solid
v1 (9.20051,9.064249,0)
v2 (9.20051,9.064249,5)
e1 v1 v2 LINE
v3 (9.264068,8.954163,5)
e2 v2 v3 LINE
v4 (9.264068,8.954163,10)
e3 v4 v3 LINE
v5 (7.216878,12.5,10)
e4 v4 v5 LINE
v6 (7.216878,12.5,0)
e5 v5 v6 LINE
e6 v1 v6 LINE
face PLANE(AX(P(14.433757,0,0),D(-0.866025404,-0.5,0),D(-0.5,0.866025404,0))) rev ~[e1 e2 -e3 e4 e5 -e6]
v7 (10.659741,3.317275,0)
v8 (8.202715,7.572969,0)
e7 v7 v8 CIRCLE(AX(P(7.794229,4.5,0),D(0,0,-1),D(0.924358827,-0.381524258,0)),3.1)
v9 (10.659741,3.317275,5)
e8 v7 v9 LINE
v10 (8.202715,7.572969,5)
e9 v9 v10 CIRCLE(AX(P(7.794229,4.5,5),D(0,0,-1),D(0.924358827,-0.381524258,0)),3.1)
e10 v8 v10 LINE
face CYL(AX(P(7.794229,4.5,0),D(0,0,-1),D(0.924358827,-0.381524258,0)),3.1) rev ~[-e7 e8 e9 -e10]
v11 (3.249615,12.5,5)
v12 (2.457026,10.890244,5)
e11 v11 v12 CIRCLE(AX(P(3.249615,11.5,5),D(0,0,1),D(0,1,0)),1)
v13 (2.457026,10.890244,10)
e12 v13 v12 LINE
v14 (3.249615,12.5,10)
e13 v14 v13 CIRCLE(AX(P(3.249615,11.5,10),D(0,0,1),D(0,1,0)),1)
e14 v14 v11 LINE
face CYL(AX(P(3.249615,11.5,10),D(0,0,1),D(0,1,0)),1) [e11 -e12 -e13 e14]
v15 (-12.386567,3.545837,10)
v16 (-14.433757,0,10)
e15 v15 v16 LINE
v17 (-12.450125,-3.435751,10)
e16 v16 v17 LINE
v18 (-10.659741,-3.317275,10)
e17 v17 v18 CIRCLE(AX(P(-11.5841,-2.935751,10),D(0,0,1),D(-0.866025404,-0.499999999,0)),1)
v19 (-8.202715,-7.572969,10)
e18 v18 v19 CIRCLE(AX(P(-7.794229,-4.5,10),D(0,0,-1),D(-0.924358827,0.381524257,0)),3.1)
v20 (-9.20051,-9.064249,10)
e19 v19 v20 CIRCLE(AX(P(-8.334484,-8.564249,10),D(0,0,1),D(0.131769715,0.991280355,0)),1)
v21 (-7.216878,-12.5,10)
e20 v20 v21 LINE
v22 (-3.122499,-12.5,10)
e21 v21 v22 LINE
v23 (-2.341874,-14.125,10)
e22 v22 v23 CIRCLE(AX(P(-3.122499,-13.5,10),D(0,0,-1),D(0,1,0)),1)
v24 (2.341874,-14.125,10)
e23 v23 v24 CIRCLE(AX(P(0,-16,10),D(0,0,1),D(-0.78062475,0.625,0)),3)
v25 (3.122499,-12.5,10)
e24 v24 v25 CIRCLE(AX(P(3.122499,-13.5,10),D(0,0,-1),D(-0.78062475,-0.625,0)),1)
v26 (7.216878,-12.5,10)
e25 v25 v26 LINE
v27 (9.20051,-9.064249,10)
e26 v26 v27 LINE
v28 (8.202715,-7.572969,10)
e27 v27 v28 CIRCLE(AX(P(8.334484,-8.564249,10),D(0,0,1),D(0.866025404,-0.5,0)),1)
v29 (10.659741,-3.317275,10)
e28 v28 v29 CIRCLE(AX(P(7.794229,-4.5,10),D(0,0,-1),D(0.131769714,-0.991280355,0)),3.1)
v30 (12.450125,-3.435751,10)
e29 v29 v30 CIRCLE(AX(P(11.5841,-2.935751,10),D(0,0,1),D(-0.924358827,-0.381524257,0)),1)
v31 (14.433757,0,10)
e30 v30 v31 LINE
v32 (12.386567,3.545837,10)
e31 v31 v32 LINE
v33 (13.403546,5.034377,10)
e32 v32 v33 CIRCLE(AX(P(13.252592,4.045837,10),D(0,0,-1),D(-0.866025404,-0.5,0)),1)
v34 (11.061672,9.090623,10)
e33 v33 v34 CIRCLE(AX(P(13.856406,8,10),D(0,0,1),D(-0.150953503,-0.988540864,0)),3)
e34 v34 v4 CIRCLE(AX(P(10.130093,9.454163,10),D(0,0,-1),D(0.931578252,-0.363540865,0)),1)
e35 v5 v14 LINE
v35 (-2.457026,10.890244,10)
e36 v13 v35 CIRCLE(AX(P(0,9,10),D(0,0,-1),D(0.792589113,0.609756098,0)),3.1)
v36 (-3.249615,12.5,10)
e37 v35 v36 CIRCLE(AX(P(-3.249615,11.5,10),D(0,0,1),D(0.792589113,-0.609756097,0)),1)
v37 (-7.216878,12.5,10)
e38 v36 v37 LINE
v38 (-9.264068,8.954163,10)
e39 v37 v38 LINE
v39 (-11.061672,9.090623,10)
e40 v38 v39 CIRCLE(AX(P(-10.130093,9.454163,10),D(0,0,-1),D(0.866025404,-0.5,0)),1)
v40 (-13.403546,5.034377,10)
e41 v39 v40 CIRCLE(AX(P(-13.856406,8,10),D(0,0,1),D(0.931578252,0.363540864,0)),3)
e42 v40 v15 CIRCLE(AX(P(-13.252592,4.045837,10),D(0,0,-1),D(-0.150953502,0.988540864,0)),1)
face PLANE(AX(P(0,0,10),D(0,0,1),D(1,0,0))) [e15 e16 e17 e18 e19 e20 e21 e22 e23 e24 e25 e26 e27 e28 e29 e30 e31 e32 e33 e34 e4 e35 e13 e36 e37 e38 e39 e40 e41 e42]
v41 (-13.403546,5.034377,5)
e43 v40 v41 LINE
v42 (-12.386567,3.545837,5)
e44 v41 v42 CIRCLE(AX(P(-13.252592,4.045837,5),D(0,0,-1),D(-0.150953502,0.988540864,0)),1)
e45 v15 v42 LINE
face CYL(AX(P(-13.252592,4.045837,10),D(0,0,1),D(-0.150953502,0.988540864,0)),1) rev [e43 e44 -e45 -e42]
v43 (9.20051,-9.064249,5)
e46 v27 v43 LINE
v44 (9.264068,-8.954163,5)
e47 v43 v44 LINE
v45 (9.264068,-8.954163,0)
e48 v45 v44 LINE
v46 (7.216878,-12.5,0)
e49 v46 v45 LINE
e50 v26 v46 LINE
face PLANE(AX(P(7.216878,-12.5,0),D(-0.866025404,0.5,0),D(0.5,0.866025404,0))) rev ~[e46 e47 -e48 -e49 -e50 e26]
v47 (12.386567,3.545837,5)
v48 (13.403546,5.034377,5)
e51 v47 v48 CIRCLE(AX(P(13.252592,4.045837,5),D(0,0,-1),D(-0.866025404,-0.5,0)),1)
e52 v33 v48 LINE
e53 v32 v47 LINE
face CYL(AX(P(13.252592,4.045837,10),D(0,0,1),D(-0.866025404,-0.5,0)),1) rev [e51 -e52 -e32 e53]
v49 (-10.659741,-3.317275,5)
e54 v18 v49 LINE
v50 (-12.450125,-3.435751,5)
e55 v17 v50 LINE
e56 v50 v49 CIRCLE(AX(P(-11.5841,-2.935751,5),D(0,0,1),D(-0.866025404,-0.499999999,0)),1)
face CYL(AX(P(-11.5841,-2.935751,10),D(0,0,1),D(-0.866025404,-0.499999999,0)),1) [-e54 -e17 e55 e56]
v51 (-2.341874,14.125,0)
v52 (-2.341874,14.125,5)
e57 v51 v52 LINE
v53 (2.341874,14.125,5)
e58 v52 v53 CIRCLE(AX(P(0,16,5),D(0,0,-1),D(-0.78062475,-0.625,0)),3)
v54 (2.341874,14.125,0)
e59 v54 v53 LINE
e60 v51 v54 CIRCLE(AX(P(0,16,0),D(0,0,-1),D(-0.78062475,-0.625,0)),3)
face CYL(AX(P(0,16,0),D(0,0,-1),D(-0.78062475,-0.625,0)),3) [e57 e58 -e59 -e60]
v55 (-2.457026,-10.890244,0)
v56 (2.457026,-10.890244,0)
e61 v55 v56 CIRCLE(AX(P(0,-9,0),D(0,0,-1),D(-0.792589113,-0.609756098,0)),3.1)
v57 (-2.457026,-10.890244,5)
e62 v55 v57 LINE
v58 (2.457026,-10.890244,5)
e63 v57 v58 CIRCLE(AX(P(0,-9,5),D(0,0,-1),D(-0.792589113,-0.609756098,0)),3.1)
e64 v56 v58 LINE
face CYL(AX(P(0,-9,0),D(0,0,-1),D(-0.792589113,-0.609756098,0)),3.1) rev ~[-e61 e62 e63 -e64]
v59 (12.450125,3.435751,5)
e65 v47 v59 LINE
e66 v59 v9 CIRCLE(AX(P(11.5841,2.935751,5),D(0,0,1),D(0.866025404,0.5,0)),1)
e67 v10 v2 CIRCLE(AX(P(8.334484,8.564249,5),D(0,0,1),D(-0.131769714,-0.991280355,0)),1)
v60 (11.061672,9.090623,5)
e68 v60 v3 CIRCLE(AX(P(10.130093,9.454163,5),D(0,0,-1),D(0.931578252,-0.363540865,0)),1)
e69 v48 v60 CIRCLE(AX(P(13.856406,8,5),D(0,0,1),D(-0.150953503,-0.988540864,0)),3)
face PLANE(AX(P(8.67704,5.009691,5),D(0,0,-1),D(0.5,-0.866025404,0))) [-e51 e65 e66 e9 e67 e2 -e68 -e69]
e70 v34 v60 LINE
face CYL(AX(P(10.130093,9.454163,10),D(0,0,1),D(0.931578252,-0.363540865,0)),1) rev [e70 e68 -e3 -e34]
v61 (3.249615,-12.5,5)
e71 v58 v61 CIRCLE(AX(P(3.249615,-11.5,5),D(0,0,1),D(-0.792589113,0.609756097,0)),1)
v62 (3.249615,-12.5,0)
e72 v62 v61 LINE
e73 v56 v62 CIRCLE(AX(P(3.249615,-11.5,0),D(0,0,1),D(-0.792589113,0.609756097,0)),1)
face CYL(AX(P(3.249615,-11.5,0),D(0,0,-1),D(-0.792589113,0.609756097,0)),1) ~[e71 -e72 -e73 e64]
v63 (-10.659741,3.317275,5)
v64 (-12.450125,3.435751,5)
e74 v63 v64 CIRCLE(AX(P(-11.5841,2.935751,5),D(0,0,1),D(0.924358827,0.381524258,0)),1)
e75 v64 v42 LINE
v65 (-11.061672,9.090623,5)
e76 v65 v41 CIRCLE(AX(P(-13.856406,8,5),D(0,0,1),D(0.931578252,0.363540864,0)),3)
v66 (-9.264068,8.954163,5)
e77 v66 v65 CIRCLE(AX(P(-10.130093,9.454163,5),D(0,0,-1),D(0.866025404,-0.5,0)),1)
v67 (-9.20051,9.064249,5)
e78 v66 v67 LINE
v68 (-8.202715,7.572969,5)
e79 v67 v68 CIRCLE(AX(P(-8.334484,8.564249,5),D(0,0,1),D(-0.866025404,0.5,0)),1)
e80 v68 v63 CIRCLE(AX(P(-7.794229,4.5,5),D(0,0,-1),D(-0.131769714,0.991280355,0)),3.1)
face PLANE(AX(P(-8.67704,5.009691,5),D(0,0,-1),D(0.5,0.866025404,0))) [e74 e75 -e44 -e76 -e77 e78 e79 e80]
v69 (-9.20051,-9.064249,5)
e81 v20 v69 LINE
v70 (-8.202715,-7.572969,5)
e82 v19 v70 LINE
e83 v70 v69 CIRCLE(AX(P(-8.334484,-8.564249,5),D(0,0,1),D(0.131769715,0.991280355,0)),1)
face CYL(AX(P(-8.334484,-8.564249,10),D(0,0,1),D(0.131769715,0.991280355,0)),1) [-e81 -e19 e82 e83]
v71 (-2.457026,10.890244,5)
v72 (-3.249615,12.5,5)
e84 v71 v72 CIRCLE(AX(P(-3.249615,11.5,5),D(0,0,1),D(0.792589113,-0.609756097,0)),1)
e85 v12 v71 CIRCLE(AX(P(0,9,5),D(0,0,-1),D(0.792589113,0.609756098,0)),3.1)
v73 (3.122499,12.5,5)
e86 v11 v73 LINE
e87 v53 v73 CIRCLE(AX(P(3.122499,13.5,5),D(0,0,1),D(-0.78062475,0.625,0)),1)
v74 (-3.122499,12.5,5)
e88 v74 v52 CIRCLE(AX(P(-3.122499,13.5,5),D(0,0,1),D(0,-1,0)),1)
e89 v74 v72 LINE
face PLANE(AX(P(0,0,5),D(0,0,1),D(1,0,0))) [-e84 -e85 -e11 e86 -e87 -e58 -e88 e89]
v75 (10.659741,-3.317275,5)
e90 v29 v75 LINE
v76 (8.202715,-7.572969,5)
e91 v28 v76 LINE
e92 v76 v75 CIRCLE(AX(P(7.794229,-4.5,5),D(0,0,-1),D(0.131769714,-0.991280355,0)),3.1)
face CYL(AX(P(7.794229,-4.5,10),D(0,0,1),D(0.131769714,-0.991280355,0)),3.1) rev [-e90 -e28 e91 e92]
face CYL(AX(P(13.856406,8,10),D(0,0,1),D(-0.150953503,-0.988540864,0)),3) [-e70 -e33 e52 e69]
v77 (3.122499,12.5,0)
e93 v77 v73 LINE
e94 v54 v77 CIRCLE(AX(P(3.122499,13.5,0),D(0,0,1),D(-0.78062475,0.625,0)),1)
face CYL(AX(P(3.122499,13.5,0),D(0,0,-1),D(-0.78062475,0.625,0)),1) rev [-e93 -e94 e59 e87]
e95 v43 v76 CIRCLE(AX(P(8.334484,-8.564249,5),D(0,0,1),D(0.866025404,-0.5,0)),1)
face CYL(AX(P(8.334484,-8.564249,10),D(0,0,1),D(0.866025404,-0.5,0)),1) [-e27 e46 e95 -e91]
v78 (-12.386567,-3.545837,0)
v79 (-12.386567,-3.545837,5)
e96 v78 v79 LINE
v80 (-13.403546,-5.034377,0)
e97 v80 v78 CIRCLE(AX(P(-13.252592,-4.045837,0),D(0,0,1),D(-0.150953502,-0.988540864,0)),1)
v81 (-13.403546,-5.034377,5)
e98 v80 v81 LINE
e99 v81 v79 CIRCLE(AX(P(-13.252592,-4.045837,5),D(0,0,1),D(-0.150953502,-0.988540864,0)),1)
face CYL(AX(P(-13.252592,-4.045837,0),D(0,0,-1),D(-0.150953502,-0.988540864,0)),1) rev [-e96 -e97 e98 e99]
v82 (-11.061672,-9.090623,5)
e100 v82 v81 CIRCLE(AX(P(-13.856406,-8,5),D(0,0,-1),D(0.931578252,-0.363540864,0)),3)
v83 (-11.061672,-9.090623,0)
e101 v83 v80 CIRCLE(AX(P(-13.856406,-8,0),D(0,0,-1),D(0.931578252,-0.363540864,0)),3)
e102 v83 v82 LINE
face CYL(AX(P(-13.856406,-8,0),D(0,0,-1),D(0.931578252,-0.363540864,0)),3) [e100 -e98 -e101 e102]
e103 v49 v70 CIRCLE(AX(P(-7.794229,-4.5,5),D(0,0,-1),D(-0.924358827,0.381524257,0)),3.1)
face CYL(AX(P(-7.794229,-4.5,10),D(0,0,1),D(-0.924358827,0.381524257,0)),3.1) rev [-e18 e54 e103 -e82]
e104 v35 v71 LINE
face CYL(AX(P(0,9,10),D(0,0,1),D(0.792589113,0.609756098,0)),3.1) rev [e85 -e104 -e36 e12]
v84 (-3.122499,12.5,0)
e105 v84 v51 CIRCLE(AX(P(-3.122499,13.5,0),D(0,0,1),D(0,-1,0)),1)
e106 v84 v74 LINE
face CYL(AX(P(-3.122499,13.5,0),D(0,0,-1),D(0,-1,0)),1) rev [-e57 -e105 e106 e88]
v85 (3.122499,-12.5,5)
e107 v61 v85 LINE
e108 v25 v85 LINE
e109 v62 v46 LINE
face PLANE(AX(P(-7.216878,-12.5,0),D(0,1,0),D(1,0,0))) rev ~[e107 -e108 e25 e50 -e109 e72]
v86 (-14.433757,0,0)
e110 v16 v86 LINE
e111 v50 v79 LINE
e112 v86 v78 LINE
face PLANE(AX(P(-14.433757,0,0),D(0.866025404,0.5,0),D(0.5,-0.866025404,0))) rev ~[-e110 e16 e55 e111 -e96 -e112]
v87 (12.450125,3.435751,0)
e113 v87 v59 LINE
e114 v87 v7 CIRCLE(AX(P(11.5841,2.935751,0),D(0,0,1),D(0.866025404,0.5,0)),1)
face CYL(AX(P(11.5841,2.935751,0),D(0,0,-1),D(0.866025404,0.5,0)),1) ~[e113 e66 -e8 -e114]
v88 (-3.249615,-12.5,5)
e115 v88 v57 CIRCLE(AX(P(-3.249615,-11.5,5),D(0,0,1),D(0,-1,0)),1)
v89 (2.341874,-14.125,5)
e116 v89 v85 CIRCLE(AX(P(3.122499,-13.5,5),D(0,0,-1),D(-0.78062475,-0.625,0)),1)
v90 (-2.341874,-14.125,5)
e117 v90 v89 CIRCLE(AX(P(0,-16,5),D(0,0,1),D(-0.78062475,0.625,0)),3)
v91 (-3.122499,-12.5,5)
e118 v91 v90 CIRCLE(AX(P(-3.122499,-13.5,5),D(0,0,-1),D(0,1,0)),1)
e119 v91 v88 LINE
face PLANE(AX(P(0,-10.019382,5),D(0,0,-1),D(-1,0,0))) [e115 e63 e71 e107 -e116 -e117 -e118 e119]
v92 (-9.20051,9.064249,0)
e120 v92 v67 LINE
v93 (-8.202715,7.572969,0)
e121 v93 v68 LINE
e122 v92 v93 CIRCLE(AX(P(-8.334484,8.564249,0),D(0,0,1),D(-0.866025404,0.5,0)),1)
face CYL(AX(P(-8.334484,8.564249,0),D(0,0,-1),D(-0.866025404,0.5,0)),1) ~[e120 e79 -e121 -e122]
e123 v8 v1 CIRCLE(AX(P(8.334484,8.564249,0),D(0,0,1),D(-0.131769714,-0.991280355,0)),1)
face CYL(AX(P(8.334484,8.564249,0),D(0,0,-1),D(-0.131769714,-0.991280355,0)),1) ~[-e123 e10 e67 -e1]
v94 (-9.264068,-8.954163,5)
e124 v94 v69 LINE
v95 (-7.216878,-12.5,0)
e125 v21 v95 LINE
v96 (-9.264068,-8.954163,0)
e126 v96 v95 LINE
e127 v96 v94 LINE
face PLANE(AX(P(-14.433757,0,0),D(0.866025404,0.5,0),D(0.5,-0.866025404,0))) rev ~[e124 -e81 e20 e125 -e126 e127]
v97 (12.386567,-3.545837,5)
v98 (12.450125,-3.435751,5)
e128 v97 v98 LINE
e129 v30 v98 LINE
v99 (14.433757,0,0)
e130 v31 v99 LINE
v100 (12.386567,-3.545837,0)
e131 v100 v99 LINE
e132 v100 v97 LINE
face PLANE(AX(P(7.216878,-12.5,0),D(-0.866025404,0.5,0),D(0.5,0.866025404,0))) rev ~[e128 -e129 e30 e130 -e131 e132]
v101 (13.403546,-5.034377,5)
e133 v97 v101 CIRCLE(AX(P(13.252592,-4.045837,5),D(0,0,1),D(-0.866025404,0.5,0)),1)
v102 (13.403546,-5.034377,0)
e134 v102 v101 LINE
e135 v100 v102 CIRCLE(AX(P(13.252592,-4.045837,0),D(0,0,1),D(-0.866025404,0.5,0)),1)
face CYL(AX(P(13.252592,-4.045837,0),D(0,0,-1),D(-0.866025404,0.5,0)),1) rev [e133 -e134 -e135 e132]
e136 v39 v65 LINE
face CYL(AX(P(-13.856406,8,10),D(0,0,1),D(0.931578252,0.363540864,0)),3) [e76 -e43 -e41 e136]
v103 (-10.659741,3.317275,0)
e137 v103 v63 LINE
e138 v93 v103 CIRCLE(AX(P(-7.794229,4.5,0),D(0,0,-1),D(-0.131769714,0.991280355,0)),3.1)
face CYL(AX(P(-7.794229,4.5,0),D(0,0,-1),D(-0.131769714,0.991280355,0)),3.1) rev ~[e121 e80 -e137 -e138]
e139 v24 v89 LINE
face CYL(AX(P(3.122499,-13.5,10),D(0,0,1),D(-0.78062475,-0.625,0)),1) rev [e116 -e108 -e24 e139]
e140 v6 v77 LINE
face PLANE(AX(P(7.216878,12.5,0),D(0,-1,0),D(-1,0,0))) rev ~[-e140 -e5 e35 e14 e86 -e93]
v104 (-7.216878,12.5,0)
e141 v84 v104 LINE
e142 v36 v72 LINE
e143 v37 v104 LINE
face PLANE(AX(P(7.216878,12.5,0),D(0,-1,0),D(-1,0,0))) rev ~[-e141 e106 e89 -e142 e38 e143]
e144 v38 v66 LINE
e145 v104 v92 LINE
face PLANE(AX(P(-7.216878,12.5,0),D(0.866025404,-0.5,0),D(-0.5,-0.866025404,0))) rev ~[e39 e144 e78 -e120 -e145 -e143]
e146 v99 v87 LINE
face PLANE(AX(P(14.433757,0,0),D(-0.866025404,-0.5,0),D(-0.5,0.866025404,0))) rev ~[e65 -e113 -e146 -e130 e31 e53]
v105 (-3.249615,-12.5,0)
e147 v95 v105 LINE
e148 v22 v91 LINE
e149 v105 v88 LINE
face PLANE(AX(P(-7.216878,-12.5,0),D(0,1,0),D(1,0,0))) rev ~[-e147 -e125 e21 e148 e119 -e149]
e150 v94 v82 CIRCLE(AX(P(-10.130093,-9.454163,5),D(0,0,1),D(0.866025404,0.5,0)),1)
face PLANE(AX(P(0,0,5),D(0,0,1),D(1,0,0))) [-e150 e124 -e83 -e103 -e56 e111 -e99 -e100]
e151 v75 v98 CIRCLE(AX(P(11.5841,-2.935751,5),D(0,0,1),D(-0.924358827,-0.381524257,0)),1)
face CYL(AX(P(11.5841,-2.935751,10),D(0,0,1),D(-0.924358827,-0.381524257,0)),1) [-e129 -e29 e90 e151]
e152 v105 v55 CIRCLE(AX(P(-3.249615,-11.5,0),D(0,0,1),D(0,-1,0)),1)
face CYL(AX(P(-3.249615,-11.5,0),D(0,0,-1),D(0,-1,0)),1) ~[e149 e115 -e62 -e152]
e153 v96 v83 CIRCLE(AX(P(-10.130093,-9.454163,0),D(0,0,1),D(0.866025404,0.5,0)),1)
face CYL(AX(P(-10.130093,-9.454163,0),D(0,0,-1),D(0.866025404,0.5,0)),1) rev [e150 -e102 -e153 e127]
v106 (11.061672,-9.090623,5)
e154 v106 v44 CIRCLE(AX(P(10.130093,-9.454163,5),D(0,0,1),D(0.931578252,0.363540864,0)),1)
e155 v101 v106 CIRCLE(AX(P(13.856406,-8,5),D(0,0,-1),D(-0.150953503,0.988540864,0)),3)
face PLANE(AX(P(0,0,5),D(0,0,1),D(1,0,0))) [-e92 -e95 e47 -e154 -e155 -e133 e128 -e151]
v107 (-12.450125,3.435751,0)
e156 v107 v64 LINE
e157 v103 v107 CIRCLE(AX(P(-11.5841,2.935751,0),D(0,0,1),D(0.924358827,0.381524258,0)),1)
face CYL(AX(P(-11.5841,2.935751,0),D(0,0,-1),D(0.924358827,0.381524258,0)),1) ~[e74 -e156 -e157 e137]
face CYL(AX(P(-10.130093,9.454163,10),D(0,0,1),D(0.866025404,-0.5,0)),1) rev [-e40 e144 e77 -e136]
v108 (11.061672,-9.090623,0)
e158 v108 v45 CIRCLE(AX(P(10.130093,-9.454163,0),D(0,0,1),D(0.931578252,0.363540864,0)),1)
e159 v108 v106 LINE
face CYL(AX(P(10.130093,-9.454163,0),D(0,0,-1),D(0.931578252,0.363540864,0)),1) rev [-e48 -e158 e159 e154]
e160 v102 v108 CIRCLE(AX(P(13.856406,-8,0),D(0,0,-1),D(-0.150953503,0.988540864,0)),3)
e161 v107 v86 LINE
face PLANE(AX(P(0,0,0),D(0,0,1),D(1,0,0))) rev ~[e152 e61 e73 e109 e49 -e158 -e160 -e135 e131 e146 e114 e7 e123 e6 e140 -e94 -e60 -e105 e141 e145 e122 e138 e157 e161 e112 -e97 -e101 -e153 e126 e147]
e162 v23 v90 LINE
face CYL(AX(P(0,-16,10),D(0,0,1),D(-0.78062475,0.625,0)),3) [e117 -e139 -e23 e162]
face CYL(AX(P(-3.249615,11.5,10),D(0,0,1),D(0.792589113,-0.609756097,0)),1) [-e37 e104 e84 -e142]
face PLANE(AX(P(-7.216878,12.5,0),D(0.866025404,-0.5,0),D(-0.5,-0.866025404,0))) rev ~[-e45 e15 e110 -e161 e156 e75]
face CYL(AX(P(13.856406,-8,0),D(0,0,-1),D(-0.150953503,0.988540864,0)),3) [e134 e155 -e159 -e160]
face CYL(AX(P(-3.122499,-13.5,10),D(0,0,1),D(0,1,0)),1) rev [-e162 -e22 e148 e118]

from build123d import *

# Parameters (mm, degrees)
EXTRUDE_1_DEPTH          = 10
EXTRUDE_2_DEPTH          = 5
CUT_EXTRUDE_2_DEPTH      = 5
PATTERN_CIRCULAR_1_COUNT = 3
EXTRUDE_3_DEPTH          = 5
CUT_EXTRUDE_3_DEPTH      = 5


with BuildPart() as part:
    # 草图1 → 凸台-拉伸1 (new body)
    with BuildSketch(Plane.XY):
        Polygon((14.43375673, 0), (7.216878365, 12.5), (-7.216878365, 12.5), (-14.43375673, 0), (-7.216878365, -12.5), (7.216878365, -12.5), align=None)
    extrude(amount=EXTRUDE_1_DEPTH)

    # 草图2 → 凸台-拉伸2 (add)
    with BuildSketch(Plane(origin=(0, 0, 0), x_dir=(-1, 0, 0), z_dir=(0, 0, -1))):
        with BuildLine():
            Line((-3.122498999, 12.5), (3.122498999, 12.5))
            ThreePointArc((3.122498999, 12.5), (2.22111118, 13.066987298), (2.341874249, 14.125))
            ThreePointArc((2.341874249, 14.125), (0, 19), (-2.341874249, 14.125))
            ThreePointArc((-2.341874249, 14.125), (-2.22111118, 13.066987298), (-3.122498999, 12.5))
        make_face()
    extrude_2 = extrude(amount=-EXTRUDE_2_DEPTH)

    # 草图3 → 切除-拉伸2 (cut)
    with BuildSketch(Plane(origin=(0, 0, 0), x_dir=(-1, 0, 0), z_dir=(0, 0, -1))):
        with BuildLine():
            ThreePointArc((-2.457026249, -10.890243902), (-2.352465403, -11.941726104), (-3.249615362, -12.5))
            Line((-3.249615362, -12.5), (0, -12.5))
            Line((0, -12.5), (3.249615362, -12.5))
            ThreePointArc((3.249615362, -12.5), (2.352465403, -11.941726104), (2.457026249, -10.890243902))
            ThreePointArc((2.457026249, -10.890243902), (0, -5.9), (-2.457026249, -10.890243902))
        make_face()
    cut_extrude_2 = extrude(amount=-CUT_EXTRUDE_2_DEPTH, mode=Mode.SUBTRACT)

    # 阵列(圆周)1: 凸台-拉伸2, 切除-拉伸2 ×3 about axis
    pattern_circular_1_axis = Axis((0, 0, 0), (0, 0, -1))
    add([extrude_2.rotate(pattern_circular_1_axis, i * 360 / PATTERN_CIRCULAR_1_COUNT) for i in range(1, PATTERN_CIRCULAR_1_COUNT)])
    add([cut_extrude_2.rotate(pattern_circular_1_axis, i * 360 / PATTERN_CIRCULAR_1_COUNT) for i in range(1, PATTERN_CIRCULAR_1_COUNT)], mode=Mode.SUBTRACT)

    # 草图5 → 凸台-拉伸3 (add)
    with BuildSketch(Plane.XY.offset(10)):
        with BuildLine():
            Line((7.216878365, -12.5), (9.200509866, -9.064249456))
            ThreePointArc((9.200509866, -9.064249456), (9.16560547, -8.008157853), (8.202714748, -7.572969101))
            ThreePointArc((8.202714748, -7.572969101), (5.109549882, -2.95), (10.659740998, -3.317274802))
            ThreePointArc((10.659740998, -3.317274802), (11.518070873, -3.933568252), (12.450125228, -3.435750544))
            Line((12.450125228, -3.435750544), (14.43375673, 0))
            Line((14.43375673, 0), (12.386567047, 3.545836543))
            ThreePointArc((12.386567047, 3.545836543), (12.426898541, 4.609954942), (13.403545953, 5.034377408))
            ThreePointArc((13.403545953, 5.034377408), (16.454482672, 9.5), (11.061671704, 9.090622592))
            ThreePointArc((11.061671704, 9.090622592), (10.205787361, 8.457032356), (9.264068048, 8.954163457))
            Line((9.264068048, 8.954163457), (7.216878365, 12.5))
            Line((7.216878365, 12.5), (3.249615362, 12.5))
            ThreePointArc((3.249615362, 12.5), (2.352465403, 11.941726104), (2.457026249, 10.890243902))
            ThreePointArc((2.457026249, 10.890243902), (0, 5.9), (-2.457026249, 10.890243902))
            ThreePointArc((-2.457026249, 10.890243902), (-2.352465403, 11.941726104), (-3.249615362, 12.5))
            Line((-3.249615362, 12.5), (-7.216878365, 12.5))
            Line((-7.216878365, 12.5), (-9.264068048, 8.954163457))
            ThreePointArc((-9.264068048, 8.954163457), (-10.205787361, 8.457032356), (-11.061671704, 9.090622592))
            ThreePointArc((-11.061671704, 9.090622592), (-16.454482672, 9.5), (-13.403545953, 5.034377408))
            ThreePointArc((-13.403545953, 5.034377408), (-12.426898541, 4.609954942), (-12.386567047, 3.545836543))
            Line((-12.386567047, 3.545836543), (-14.43375673, 0))
            Line((-14.43375673, 0), (-12.450125228, -3.435750544))
            ThreePointArc((-12.450125228, -3.435750544), (-11.518070873, -3.933568252), (-10.659740998, -3.317274802))
            ThreePointArc((-10.659740998, -3.317274802), (-5.109549882, -2.95), (-8.202714748, -7.572969101))
            ThreePointArc((-8.202714748, -7.572969101), (-9.16560547, -8.008157853), (-9.200509866, -9.064249456))
            Line((-9.200509866, -9.064249456), (-7.216878365, -12.5))
            Line((-7.216878365, -12.5), (-3.122498999, -12.5))
            ThreePointArc((-3.122498999, -12.5), (-2.22111118, -13.066987298), (-2.341874249, -14.125))
            ThreePointArc((-2.341874249, -14.125), (0, -19), (2.341874249, -14.125))
            ThreePointArc((2.341874249, -14.125), (2.22111118, -13.066987298), (3.122498999, -12.5))
            Line((3.122498999, -12.5), (7.216878365, -12.5))
        make_face()
    extrude(amount=-EXTRUDE_3_DEPTH)

    # 草图6 → 切除-拉伸3 (cut)
    with BuildSketch(Plane.XY.offset(10)):
        Polygon((26.179583505, 0.365011735), (12.773682317, 22.854690243), (-13.405901188, 22.489678508), (-26.179583505, -0.365011735), (-12.773682317, -22.854690243), (13.405901188, -22.489678508), align=None)
        with BuildLine():
            Line((7.216878365, -12.5), (9.200509866, -9.064249456))
            ThreePointArc((9.200509866, -9.064249456), (9.16560547, -8.008157853), (8.202714748, -7.572969101))
            ThreePointArc((8.202714748, -7.572969101), (5.109549882, -2.95), (10.659740998, -3.317274802))
            ThreePointArc((10.659740998, -3.317274802), (11.518070873, -3.933568252), (12.450125228, -3.435750544))
            Line((12.450125228, -3.435750544), (14.43375673, 0))
            Line((14.43375673, 0), (12.386567047, 3.545836543))
            ThreePointArc((12.386567047, 3.545836543), (12.426898541, 4.609954942), (13.403545953, 5.034377408))
            ThreePointArc((13.403545953, 5.034377408), (16.454482672, 9.5), (11.061671704, 9.090622592))
            ThreePointArc((11.061671704, 9.090622592), (10.205787361, 8.457032356), (9.264068048, 8.954163457))
            Line((9.264068048, 8.954163457), (7.216878365, 12.5))
            Line((7.216878365, 12.5), (3.249615362, 12.5))
            ThreePointArc((3.249615362, 12.5), (2.352465403, 11.941726104), (2.457026249, 10.890243902))
            ThreePointArc((2.457026249, 10.890243902), (0, 5.9), (-2.457026249, 10.890243902))
            ThreePointArc((-2.457026249, 10.890243902), (-2.352465403, 11.941726104), (-3.249615362, 12.5))
            Line((-3.249615362, 12.5), (-7.216878365, 12.5))
            Line((-7.216878365, 12.5), (-9.264068048, 8.954163457))
            ThreePointArc((-9.264068048, 8.954163457), (-10.205787361, 8.457032356), (-11.061671704, 9.090622592))
            ThreePointArc((-11.061671704, 9.090622592), (-16.454482672, 9.5), (-13.403545953, 5.034377408))
            ThreePointArc((-13.403545953, 5.034377408), (-12.426898541, 4.609954942), (-12.386567047, 3.545836543))
            Line((-12.386567047, 3.545836543), (-14.43375673, 0))
            Line((-14.43375673, 0), (-12.450125228, -3.435750544))
            ThreePointArc((-12.450125228, -3.435750544), (-11.518070873, -3.933568252), (-10.659740998, -3.317274802))
            ThreePointArc((-10.659740998, -3.317274802), (-5.109549882, -2.95), (-8.202714748, -7.572969101))
            ThreePointArc((-8.202714748, -7.572969101), (-9.16560547, -8.008157853), (-9.200509866, -9.064249456))
            Line((-9.200509866, -9.064249456), (-7.216878365, -12.5))
            Line((-7.216878365, -12.5), (-3.122498999, -12.5))
            ThreePointArc((-3.122498999, -12.5), (-2.22111118, -13.066987298), (-2.341874249, -14.125))
            ThreePointArc((-2.341874249, -14.125), (0, -19), (2.341874249, -14.125))
            ThreePointArc((2.341874249, -14.125), (2.22111118, -13.066987298), (3.122498999, -12.5))
            Line((3.122498999, -12.5), (7.216878365, -12.5))
        make_face(mode=Mode.SUBTRACT)
    extrude(amount=-CUT_EXTRUDE_3_DEPTH, mode=Mode.SUBTRACT)


solid = part.part
